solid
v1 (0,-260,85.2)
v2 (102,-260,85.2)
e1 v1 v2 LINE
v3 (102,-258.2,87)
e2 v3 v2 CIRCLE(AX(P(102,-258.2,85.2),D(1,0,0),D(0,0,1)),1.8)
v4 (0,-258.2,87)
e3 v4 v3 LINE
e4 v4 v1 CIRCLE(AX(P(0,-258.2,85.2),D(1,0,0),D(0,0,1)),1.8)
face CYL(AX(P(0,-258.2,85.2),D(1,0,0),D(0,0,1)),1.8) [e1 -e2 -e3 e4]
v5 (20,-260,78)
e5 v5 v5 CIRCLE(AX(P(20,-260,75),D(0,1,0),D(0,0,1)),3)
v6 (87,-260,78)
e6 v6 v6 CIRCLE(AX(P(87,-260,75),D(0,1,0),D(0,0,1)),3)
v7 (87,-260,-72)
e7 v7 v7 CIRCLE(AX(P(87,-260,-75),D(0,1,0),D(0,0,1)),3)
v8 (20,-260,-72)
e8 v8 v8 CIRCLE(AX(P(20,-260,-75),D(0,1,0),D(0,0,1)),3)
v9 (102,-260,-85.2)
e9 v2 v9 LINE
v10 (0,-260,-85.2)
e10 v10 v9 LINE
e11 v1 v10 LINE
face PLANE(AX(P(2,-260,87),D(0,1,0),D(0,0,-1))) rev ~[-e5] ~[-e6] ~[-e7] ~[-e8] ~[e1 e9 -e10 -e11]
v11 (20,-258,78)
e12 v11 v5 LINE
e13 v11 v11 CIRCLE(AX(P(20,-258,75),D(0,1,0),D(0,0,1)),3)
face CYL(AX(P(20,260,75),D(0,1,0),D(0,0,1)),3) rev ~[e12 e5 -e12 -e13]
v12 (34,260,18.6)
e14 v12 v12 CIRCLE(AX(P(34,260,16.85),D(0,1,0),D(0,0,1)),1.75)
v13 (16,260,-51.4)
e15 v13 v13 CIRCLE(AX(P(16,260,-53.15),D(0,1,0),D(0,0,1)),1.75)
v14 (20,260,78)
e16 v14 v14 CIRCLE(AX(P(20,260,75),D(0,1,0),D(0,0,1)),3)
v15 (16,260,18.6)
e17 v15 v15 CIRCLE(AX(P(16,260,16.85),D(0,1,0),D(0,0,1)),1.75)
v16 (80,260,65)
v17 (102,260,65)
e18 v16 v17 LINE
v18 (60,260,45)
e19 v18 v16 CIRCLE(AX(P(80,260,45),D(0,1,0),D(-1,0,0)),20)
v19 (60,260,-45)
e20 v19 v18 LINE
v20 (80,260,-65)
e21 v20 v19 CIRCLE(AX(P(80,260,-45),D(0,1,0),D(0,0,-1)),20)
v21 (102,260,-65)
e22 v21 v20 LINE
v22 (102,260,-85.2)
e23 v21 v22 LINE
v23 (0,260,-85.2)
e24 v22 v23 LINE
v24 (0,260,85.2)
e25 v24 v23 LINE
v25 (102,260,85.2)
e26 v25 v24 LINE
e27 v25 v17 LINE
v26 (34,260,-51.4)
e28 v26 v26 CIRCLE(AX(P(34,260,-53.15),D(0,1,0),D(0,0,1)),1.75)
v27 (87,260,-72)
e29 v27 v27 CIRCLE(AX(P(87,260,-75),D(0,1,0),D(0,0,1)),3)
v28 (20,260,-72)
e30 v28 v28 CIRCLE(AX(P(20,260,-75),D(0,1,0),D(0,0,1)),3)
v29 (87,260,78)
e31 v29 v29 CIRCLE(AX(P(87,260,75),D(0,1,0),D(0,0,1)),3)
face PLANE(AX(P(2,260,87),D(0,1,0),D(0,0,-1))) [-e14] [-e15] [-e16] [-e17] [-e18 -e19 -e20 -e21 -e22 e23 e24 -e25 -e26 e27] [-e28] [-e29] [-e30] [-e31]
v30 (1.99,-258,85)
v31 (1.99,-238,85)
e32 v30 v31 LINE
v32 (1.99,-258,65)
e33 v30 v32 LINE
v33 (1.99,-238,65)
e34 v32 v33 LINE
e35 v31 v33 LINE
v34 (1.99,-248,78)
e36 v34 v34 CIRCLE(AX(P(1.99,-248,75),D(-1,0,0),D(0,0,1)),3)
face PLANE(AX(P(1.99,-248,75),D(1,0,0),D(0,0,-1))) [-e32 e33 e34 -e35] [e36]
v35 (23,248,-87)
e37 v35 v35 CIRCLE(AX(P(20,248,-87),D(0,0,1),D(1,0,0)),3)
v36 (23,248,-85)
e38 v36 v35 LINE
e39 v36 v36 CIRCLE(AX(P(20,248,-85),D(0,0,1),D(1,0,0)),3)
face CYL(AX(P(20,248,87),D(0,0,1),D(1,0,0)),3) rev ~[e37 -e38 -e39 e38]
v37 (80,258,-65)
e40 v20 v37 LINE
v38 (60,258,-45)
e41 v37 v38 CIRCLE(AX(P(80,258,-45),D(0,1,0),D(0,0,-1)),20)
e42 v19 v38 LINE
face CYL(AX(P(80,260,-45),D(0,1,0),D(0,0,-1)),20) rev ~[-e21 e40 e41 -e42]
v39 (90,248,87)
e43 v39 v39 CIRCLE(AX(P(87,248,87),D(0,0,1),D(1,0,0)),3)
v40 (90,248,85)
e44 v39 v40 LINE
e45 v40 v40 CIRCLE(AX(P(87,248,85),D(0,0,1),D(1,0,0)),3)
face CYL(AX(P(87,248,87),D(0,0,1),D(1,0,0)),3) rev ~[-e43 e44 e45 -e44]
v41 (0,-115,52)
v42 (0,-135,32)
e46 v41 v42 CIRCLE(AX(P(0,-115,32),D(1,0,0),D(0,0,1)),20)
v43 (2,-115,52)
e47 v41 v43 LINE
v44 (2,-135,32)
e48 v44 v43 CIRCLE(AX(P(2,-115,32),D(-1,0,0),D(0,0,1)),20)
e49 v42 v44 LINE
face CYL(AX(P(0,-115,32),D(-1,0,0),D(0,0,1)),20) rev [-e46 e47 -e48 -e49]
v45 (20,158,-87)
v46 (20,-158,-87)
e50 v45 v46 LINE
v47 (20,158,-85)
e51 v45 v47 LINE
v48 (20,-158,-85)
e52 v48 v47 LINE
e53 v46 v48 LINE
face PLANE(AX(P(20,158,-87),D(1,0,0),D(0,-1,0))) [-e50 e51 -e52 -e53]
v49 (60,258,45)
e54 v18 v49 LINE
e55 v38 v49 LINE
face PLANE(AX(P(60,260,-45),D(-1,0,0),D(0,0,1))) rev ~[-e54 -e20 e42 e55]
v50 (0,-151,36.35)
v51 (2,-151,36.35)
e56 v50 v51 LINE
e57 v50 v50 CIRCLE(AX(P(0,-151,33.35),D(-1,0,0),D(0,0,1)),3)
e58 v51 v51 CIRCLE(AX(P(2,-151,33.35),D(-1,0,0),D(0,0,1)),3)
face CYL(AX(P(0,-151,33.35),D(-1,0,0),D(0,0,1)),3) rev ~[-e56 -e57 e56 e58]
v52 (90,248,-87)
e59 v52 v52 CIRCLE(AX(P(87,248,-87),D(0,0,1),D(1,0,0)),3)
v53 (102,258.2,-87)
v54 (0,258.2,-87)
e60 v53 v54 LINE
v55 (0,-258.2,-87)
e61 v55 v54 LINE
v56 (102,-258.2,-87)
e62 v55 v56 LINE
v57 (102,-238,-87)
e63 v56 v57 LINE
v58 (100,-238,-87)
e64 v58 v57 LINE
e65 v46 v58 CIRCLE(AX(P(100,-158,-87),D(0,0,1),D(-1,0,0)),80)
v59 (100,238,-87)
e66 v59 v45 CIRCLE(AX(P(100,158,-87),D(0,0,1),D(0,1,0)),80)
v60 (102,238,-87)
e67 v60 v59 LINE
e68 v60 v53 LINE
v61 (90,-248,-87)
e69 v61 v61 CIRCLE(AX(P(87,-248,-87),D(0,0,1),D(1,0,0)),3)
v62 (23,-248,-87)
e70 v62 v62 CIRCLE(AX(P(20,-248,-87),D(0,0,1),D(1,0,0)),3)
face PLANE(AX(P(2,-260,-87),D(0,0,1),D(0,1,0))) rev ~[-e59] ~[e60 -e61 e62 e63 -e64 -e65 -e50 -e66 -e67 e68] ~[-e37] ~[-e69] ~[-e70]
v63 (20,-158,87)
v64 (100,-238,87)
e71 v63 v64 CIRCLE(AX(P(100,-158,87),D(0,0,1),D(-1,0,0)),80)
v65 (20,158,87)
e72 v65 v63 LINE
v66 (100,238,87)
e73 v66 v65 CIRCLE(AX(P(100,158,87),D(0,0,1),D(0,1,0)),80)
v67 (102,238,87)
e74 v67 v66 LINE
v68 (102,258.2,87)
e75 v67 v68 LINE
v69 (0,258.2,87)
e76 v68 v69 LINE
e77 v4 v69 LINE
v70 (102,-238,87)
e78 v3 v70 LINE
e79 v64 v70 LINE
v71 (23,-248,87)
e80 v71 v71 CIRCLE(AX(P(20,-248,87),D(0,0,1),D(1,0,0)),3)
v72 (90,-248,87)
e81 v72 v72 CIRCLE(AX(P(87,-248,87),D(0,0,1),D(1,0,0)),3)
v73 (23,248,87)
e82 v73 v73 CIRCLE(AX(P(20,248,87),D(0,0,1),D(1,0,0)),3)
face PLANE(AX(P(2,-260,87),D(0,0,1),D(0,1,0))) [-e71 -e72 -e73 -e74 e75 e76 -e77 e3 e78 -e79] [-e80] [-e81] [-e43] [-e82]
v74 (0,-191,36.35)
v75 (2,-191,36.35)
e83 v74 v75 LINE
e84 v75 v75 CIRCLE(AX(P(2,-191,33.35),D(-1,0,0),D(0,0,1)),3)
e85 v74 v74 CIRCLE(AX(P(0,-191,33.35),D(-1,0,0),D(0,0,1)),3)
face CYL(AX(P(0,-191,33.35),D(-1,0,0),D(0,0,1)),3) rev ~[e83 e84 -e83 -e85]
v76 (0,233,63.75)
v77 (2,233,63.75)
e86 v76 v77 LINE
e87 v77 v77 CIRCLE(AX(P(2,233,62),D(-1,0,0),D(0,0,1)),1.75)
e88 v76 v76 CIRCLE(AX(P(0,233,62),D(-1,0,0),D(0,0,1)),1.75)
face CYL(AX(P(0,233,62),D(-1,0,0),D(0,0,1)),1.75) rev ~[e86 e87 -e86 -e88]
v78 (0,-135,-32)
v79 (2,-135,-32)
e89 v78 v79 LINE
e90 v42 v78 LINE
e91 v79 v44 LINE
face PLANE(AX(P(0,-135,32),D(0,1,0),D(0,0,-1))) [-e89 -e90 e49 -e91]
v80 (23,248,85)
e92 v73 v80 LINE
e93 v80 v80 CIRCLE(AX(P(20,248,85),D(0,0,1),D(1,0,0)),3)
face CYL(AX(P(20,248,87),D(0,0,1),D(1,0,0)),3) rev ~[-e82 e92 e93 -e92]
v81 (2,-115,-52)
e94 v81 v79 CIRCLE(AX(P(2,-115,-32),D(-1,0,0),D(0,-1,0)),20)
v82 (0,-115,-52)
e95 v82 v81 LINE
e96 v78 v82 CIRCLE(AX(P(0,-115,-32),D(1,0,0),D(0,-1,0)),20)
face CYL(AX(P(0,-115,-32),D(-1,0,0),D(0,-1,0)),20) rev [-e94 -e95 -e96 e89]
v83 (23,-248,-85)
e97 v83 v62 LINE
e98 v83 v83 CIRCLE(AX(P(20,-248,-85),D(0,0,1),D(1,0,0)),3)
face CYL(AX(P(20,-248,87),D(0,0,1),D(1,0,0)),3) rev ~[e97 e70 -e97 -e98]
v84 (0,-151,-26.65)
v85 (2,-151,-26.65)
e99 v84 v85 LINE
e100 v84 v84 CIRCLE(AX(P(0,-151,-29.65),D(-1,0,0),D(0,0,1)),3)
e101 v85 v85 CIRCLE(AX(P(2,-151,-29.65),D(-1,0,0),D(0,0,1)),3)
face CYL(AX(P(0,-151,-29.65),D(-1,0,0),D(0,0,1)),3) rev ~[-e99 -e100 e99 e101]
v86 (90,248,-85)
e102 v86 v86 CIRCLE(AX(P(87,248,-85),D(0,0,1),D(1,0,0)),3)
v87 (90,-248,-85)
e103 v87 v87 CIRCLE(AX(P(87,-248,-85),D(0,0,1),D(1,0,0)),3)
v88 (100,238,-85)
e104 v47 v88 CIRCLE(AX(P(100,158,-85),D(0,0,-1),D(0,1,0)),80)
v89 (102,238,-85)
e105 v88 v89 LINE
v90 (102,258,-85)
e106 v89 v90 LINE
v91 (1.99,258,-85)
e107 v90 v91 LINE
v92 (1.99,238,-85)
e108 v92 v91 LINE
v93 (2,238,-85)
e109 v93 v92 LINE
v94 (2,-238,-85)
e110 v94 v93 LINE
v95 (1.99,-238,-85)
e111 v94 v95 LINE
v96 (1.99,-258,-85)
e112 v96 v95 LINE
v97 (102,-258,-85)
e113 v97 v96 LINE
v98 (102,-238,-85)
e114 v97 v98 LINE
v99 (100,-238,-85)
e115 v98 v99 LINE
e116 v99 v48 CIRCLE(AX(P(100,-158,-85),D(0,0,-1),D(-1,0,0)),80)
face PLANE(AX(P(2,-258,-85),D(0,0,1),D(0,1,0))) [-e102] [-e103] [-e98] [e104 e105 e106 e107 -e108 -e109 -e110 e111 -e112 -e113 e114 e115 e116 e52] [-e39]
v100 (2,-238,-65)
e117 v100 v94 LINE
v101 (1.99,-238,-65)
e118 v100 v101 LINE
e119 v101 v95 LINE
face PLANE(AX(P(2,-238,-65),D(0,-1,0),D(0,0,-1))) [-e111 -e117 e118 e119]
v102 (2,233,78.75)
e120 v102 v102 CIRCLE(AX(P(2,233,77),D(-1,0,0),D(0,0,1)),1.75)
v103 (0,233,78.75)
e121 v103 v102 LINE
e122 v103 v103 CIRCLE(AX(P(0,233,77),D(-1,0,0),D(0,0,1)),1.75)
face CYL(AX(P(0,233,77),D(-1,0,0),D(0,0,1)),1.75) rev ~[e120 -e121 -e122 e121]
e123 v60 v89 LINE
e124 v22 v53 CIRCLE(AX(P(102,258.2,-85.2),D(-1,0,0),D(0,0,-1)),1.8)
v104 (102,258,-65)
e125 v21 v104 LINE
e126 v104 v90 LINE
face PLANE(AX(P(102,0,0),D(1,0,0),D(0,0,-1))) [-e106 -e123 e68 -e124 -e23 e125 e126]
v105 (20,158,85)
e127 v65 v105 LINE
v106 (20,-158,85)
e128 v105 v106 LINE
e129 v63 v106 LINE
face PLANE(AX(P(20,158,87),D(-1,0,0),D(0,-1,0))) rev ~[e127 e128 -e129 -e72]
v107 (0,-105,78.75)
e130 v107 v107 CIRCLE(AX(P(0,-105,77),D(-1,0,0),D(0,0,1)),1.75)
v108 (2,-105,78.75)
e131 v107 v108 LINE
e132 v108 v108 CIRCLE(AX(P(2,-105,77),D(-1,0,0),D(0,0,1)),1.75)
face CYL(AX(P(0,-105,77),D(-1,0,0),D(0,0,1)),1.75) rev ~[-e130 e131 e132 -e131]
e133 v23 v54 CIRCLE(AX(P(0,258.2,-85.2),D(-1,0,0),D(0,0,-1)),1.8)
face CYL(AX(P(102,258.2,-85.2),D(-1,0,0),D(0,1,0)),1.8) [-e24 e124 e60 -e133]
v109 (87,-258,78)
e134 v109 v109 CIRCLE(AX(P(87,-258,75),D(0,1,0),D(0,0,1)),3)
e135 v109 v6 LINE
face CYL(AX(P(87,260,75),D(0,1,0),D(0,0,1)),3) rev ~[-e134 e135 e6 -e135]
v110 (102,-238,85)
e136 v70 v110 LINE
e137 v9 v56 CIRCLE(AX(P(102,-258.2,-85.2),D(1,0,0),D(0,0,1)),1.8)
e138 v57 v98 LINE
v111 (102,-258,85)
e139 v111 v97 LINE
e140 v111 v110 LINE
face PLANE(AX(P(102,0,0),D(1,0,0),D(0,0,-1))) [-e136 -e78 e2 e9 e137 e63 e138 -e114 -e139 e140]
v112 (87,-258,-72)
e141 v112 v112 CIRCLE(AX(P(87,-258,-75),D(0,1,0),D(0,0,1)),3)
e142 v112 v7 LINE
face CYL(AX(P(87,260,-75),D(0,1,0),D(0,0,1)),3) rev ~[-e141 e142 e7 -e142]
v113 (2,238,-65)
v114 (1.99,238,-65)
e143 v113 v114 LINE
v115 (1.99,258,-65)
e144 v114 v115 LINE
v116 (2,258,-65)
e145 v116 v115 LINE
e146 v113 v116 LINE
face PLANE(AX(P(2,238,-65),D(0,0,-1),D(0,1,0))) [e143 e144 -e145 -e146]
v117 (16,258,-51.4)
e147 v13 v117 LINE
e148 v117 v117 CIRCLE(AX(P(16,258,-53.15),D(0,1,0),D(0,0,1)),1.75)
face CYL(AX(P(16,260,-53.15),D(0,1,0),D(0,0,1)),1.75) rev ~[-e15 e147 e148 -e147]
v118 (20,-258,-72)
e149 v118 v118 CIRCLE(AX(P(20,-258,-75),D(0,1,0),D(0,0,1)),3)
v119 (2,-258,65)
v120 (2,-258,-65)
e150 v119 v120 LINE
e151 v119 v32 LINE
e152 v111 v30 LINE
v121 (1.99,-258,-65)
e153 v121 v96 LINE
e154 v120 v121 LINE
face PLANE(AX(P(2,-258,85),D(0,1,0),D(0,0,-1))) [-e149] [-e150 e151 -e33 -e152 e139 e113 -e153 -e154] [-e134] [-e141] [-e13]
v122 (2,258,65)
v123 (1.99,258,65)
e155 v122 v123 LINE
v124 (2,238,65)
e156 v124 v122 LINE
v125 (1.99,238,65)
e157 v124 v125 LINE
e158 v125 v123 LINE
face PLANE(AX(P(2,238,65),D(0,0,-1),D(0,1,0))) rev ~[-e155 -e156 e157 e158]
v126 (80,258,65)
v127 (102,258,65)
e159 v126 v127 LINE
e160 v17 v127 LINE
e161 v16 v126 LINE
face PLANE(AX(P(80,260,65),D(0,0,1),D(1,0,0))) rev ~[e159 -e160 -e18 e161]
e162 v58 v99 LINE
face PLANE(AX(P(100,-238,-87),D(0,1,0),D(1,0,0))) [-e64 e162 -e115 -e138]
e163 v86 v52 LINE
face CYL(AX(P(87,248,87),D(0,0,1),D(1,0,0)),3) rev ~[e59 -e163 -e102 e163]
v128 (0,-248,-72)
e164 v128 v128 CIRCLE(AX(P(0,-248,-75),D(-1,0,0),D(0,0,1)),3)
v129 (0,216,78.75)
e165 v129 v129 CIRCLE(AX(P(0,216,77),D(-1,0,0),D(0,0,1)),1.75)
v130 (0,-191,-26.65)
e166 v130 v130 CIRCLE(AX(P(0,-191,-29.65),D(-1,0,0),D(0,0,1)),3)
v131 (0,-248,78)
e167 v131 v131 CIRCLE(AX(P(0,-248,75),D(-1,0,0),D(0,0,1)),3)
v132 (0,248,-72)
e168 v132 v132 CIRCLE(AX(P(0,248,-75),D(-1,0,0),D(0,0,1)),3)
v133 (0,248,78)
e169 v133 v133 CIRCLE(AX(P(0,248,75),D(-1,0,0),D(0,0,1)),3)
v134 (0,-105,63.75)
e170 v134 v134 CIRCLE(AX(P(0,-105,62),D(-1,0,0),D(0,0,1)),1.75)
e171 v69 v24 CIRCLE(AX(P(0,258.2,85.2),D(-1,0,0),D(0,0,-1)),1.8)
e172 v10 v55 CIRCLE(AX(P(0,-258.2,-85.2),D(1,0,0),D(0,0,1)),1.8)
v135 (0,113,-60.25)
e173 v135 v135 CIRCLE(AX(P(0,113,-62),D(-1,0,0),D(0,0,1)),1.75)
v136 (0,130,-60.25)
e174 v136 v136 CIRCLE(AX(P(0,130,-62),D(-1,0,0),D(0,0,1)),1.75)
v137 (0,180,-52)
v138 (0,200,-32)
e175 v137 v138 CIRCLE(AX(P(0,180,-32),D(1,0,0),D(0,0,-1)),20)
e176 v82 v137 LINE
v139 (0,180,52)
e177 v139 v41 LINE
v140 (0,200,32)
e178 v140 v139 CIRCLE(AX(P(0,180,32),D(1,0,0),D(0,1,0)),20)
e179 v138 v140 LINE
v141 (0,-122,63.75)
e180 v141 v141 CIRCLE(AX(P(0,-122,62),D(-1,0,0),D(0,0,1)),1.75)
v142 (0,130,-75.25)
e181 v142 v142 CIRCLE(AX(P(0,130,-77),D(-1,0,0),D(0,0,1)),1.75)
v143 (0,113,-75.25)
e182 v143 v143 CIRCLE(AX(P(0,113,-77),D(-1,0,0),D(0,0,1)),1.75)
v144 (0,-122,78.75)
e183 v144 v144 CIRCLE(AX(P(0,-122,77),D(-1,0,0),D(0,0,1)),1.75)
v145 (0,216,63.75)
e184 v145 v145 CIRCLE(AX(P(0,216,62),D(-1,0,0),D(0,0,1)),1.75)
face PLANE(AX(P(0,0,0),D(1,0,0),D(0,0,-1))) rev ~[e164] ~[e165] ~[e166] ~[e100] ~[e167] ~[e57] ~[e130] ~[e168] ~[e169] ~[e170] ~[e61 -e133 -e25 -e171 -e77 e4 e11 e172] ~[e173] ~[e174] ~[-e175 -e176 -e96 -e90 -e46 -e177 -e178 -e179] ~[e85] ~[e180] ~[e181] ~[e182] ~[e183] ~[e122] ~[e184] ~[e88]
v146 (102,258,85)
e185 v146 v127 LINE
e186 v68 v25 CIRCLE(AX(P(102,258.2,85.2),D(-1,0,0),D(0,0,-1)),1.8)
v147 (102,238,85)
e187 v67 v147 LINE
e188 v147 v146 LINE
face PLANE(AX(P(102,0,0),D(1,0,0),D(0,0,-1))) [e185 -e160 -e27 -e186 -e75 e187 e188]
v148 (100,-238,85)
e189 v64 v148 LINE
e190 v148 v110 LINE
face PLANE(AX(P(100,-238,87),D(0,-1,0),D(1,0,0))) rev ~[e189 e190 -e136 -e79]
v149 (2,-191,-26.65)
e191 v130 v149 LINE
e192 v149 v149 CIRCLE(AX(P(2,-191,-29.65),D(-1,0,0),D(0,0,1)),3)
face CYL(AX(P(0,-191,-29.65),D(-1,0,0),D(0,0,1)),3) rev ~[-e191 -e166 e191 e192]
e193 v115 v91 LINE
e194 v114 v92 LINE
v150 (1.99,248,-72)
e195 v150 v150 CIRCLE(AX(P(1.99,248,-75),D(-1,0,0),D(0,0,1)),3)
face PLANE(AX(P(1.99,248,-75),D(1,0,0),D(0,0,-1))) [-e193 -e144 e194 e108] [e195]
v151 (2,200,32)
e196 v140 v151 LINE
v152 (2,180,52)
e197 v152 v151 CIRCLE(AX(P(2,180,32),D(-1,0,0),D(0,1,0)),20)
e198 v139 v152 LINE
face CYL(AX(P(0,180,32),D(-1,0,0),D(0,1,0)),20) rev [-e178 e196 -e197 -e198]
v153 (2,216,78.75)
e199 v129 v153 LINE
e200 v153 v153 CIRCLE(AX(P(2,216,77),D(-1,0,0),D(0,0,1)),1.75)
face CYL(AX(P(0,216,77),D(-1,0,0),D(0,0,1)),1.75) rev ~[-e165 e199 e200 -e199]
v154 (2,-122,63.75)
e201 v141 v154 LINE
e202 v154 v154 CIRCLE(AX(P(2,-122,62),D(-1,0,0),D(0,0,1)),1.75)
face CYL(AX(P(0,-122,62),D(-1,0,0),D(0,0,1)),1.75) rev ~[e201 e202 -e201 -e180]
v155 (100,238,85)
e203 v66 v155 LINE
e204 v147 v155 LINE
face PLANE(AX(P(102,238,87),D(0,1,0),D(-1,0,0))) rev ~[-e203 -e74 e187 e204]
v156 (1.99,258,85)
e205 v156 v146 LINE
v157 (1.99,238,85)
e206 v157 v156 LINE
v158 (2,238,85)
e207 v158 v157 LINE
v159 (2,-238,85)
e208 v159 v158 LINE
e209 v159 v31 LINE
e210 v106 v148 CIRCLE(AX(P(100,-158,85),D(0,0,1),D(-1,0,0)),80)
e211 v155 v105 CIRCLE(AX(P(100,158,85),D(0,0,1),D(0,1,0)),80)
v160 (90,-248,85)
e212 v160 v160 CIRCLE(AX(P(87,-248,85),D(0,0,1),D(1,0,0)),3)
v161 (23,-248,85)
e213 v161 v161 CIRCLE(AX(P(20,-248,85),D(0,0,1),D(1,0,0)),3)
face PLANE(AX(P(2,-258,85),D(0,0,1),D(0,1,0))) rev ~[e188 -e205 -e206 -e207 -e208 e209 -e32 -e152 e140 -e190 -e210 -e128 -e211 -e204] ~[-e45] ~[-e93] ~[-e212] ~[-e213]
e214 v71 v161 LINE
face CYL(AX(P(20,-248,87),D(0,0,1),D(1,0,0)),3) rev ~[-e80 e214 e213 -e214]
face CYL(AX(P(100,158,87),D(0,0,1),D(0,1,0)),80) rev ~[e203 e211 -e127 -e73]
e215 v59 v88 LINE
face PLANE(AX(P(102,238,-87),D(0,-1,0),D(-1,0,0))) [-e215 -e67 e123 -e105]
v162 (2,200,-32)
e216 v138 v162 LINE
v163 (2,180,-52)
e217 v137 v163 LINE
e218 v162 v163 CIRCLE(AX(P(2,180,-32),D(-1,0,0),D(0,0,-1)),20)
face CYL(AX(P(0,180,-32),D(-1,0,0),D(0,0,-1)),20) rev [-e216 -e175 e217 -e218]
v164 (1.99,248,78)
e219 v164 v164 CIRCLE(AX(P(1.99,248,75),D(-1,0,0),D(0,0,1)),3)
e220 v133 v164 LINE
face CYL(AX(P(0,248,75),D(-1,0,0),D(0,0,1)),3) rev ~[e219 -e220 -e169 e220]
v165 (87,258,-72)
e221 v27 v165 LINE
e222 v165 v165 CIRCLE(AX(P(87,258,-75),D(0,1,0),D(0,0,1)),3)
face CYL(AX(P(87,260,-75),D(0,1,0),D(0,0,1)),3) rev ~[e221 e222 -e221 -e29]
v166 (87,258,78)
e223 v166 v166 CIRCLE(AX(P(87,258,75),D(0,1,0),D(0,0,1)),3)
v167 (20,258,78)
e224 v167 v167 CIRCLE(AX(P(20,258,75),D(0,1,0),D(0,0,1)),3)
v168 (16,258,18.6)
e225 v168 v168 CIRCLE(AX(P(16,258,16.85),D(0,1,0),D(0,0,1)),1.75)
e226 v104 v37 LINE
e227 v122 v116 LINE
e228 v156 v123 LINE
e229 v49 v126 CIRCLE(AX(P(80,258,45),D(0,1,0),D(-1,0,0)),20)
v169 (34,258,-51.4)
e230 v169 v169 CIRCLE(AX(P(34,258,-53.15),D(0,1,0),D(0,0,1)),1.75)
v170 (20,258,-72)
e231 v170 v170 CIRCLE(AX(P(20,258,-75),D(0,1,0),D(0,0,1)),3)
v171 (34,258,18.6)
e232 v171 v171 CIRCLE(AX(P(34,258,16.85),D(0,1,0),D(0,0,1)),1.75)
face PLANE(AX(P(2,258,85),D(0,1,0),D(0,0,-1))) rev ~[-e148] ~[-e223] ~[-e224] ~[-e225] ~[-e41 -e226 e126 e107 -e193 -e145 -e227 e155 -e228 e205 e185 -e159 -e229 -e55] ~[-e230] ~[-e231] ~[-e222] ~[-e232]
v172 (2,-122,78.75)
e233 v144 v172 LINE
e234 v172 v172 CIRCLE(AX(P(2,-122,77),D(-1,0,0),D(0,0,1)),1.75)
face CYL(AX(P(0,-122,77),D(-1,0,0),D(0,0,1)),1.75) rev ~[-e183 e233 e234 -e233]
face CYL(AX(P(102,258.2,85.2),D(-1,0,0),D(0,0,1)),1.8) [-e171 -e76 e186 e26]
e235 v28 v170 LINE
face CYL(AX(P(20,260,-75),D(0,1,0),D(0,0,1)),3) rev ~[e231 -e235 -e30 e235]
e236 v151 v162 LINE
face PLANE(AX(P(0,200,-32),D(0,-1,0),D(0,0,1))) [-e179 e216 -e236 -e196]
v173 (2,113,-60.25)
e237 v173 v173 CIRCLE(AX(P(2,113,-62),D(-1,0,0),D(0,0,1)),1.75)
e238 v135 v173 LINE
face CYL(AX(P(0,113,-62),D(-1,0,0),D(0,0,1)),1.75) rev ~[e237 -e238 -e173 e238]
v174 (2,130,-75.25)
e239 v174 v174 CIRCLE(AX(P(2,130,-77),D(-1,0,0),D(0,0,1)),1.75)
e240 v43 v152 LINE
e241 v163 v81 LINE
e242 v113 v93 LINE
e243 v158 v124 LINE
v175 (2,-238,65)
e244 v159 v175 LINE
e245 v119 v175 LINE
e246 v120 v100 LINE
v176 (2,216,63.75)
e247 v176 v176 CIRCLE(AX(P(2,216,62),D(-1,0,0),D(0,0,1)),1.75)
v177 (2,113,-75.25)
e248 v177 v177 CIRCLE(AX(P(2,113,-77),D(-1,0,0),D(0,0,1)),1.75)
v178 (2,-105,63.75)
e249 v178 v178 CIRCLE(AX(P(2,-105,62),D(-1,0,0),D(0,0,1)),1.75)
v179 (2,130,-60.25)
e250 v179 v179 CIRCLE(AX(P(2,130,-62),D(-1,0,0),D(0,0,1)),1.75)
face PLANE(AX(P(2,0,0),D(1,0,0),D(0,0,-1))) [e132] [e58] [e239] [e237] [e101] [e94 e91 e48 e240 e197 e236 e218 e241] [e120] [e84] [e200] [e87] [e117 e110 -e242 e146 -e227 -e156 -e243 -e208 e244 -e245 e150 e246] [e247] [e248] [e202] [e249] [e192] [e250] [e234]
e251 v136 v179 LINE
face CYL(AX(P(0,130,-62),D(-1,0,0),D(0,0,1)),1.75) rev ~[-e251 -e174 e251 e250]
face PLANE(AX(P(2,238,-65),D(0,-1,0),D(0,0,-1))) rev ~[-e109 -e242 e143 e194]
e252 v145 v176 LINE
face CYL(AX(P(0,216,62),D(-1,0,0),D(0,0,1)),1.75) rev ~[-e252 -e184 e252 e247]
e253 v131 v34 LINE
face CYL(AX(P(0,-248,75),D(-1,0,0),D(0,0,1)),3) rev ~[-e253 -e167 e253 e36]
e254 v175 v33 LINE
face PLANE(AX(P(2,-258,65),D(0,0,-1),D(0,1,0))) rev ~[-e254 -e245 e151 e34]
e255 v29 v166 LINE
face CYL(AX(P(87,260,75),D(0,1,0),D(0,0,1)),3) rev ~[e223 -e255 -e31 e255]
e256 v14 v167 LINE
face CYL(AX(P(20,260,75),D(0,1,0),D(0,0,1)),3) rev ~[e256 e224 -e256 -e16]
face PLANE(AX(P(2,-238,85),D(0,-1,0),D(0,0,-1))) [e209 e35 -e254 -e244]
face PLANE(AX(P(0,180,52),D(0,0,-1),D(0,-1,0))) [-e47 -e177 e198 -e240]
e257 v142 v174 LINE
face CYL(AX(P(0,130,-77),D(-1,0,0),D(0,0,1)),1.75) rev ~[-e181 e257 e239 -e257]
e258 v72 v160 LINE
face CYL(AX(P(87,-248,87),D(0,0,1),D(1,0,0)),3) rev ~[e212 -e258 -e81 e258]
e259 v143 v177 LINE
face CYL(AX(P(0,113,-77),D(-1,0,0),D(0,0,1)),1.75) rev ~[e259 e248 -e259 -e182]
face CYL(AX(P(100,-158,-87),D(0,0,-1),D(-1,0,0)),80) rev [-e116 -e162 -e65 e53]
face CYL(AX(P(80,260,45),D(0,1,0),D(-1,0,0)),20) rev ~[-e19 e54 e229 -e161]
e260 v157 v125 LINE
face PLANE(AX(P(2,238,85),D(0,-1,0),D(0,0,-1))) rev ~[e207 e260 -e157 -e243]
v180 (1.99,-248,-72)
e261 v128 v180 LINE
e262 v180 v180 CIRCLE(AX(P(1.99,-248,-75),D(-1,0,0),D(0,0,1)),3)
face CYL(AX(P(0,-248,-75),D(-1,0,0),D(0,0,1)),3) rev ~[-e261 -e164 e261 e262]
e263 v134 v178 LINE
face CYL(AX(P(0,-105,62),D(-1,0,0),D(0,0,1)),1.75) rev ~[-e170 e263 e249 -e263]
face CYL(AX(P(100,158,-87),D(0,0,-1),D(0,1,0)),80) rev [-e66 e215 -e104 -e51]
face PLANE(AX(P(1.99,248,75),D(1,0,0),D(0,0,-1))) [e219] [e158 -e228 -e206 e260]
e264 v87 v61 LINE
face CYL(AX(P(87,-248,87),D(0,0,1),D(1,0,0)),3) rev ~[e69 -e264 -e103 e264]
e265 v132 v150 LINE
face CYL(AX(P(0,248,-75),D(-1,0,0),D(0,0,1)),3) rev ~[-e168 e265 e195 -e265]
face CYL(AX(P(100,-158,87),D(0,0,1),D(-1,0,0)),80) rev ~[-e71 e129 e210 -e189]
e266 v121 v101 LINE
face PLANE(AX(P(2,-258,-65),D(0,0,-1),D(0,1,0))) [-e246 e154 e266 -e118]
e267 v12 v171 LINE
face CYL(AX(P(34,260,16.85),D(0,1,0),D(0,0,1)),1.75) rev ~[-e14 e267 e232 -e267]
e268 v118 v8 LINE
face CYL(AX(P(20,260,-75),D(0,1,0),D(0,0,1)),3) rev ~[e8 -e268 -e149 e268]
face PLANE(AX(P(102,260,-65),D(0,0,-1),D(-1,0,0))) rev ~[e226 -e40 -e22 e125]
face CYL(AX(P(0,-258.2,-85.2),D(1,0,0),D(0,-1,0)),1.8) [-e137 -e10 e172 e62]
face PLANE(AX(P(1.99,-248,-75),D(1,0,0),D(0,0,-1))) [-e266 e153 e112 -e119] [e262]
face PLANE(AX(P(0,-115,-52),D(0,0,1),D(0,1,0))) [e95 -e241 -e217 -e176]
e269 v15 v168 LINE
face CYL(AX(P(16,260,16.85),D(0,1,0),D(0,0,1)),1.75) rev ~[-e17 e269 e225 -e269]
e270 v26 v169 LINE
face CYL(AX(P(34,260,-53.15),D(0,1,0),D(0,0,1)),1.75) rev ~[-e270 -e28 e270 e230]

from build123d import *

# Parameters (mm, degrees)
SKETCH1_W           = 174
SKETCH1_H           = 520
BOSS_EXTRUDE1_DEPTH = 2
SKETCH2_W           = 174
SKETCH2_H           = 520
SKETCH2_W_2         = 170
SKETCH2_H_2         = 516
BOSS_EXTRUDE2_DEPTH = 100
CUT_EXTRUDE1_DEPTH  = 10
SKETCH4_R           = 3
CUT_EXTRUDE2_DEPTH  = 175
SKETCH5_R           = 3
CUT_EXTRUDE3_DEPTH  = 521
CUT_EXTRUDE4_DEPTH  = 10
SKETCH8_R           = 1.75
CUT_EXTRUDE5_DEPTH  = 10
FILLET1_R           = 1.8
SKETCH9_R           = 3
CUT_EXTRUDE6_DEPTH  = 10
SKETCH10_R          = 3
SKETCH10_R_2        = 1.75
CUT_EXTRUDE7_DEPTH  = 103
SKETCH11_W          = 20
SKETCH11_H          = 20
CUT_EXTRUDE8_DEPTH  = 0.01


with BuildPart() as part:
    # Sketch1 → Boss-Extrude1 (new body)
    with BuildSketch(Plane(origin=(0, 0, 0), x_dir=(0, 0, -1), z_dir=(1, 0, 0))):
        Rectangle(SKETCH1_W, SKETCH1_H)
    extrude(amount=BOSS_EXTRUDE1_DEPTH)

    # Sketch2 → Boss-Extrude2 (add)
    with BuildSketch(Plane(origin=(2, 0, 0), x_dir=(0, 0, -1), z_dir=(1, 0, 0))):
        Rectangle(SKETCH2_W, SKETCH2_H)
        Rectangle(SKETCH2_W_2, SKETCH2_H_2, mode=Mode.SUBTRACT)
    extrude(amount=BOSS_EXTRUDE2_DEPTH)

    # Sketch3 → Cut-Extrude1 (cut)
    with BuildSketch(Plane.XY.offset(-87)):
        with BuildLine():
            Line((102, 238), (100, 238))
            ThreePointArc((100, 238), (43.431457505, 214.568542495), (20, 158))
            Line((20, 158), (20, -158))
            ThreePointArc((20, -158), (43.431457505, -214.568542495), (100, -238))
            Line((100, -238), (102, -238))
            Line((102, -238), (102, 238))
        make_face()
    extrude(amount=CUT_EXTRUDE1_DEPTH, mode=Mode.SUBTRACT)

    # Sketch4 → Cut-Extrude2 (cut, through all)
    with BuildSketch(Plane.XY.offset(87)):
        with Locations((20, 248)):
            Circle(SKETCH4_R)
        with Locations((87, 248)):
            Circle(SKETCH4_R)
        with Locations((20, -248)):
            Circle(SKETCH4_R)
        with Locations((87, -248)):
            Circle(SKETCH4_R)
    extrude(amount=-CUT_EXTRUDE2_DEPTH, mode=Mode.SUBTRACT)

    # Sketch5 → Cut-Extrude3 (cut, through all)
    with BuildSketch(Plane(origin=(0, 260, 0), x_dir=(1, 0, 0), z_dir=(0, 1, 0))):
        with Locations(Location((87, 75, 0), (0, 0, 270))):  # turned: the seam where the file's is
            Circle(SKETCH5_R)
        with Locations(Location((20, 75, 0), (0, 0, 270))):  # turned: the seam where the file's is
            Circle(SKETCH5_R)
        with Locations(Location((87, -75, 0), (0, 0, 270))):  # turned: the seam where the file's is
            Circle(SKETCH5_R)
        with Locations(Location((20, -75, 0), (0, 0, 270))):  # turned: the seam where the file's is
            Circle(SKETCH5_R)
    extrude(amount=-CUT_EXTRUDE3_DEPTH, mode=Mode.SUBTRACT)

    # Sketch7 → Cut-Extrude4 (cut)
    with BuildSketch(Plane(origin=(0, 0, 87), x_dir=(-1, 0, 0), z_dir=(0, 0, -1))):
        with BuildLine():
            Line((-102, 238), (-100, 238))
            ThreePointArc((-100, 238), (-43.431457505, 214.568542495), (-20, 158))
            Line((-20, 158), (-20, -158))
            ThreePointArc((-20, -158), (-43.431457505, -214.568542495), (-100, -238))
            Line((-100, -238), (-102, -238))
            Line((-102, -238), (-102, 238))
        make_face()
    extrude(amount=CUT_EXTRUDE4_DEPTH, mode=Mode.SUBTRACT)

    # Sketch8 → Cut-Extrude5 (cut)
    with BuildSketch(Plane(origin=(0, 260, 0), x_dir=(1, 0, 0), z_dir=(0, 1, 0))):
        with Locations(Location((34, 53.15, 0), (0, 0, 270))):  # turned: the seam where the file's is
            Circle(SKETCH8_R)
        with Locations(Location((16, 53.15, 0), (0, 0, 270))):  # turned: the seam where the file's is
            Circle(SKETCH8_R)
        with Locations(Location((16, -16.85, 0), (0, 0, 270))):  # turned: the seam where the file's is
            Circle(SKETCH8_R)
        with Locations(Location((34, -16.85, 0), (0, 0, 270))):  # turned: the seam where the file's is
            Circle(SKETCH8_R)
        with BuildLine():
            Line((102, 65), (80, 65))
            ThreePointArc((80, 65), (65.857864376, 59.142135624), (60, 45))
            Line((60, 45), (60, -45))
            ThreePointArc((60, -45), (65.857864376, -59.142135624), (80, -65))
            Line((80, -65), (102, -65))
            Line((102, -65), (102, 65))
        make_face()
    extrude(amount=-CUT_EXTRUDE5_DEPTH, mode=Mode.SUBTRACT)

    # Fillet1
    fillet1_edges = [part.edges().sort_by_distance(p)[0] for p in [
        (51, 260, 87),
        (51, 260, -87),
        (51, -260, -87),
        (51, -260, 87),
    ]]
    fillet(fillet1_edges, radius=FILLET1_R)

    # Sketch9 → Cut-Extrude6 (cut)
    with BuildSketch(Plane.ZY):
        with Locations((-75, 248)):
            Circle(SKETCH9_R)
        with Locations((75, 248)):
            Circle(SKETCH9_R)
        with Locations((75, -248)):
            Circle(SKETCH9_R)
        with Locations((-75, -248)):
            Circle(SKETCH9_R)
    extrude(amount=-CUT_EXTRUDE6_DEPTH, mode=Mode.SUBTRACT)

    # Sketch10 → Cut-Extrude7 (cut, through all)
    with BuildSketch(Plane.ZY):
        with Locations((-29.65, -151)):
            Circle(SKETCH10_R)
        with Locations((33.35, -151)):
            Circle(SKETCH10_R)
        with Locations((-29.65, -191)):
            Circle(SKETCH10_R)
        with Locations((33.35, -191)):
            Circle(SKETCH10_R)
        with Locations((62, 233)):
            Circle(SKETCH10_R_2)
        with Locations((77, 233)):
            Circle(SKETCH10_R_2)
        with Locations((62, 216)):
            Circle(SKETCH10_R_2)
        with Locations((77, 216)):
            Circle(SKETCH10_R_2)
        with Locations((-77, 130)):
            Circle(SKETCH10_R_2)
        with Locations((-62, 130)):
            Circle(SKETCH10_R_2)
        with Locations((-62, 113)):
            Circle(SKETCH10_R_2)
        with Locations((-77, 113)):
            Circle(SKETCH10_R_2)
        with Locations((62, -105)):
            Circle(SKETCH10_R_2)
        with Locations((77, -105)):
            Circle(SKETCH10_R_2)
        with Locations((62, -122)):
            Circle(SKETCH10_R_2)
        with Locations((77, -122)):
            Circle(SKETCH10_R_2)
        with BuildLine():
            Line((-32, 200), (32, 200))
            ThreePointArc((32, 200), (46.142135624, 194.142135624), (52, 180))
            Line((52, 180), (52, -115))
            ThreePointArc((52, -115), (46.142135624, -129.142135624), (32, -135))
            Line((32, -135), (-32, -135))
            ThreePointArc((-32, -135), (-46.142135624, -129.142135624), (-52, -115))
            Line((-52, -115), (-52, 180))
            ThreePointArc((-52, 180), (-46.142135624, 194.142135624), (-32, 200))
        make_face()
    extrude(amount=-CUT_EXTRUDE7_DEPTH, mode=Mode.SUBTRACT)

    # Sketch11 → Cut-Extrude8 (cut)
    with BuildSketch(Plane(origin=(2, 0, 0), x_dir=(0, 0, -1), z_dir=(1, 0, 0))):
        with Locations((-75, 248)):
            Rectangle(SKETCH11_W, SKETCH11_H)
        with Locations((75, 248)):
            Rectangle(SKETCH11_W, SKETCH11_H)
        with Locations((75, -248)):
            Rectangle(SKETCH11_W, SKETCH11_H)
        with Locations((-75, -248)):
            Rectangle(SKETCH11_W, SKETCH11_H)
    extrude(amount=-CUT_EXTRUDE8_DEPTH, mode=Mode.SUBTRACT)


solid = part.part
